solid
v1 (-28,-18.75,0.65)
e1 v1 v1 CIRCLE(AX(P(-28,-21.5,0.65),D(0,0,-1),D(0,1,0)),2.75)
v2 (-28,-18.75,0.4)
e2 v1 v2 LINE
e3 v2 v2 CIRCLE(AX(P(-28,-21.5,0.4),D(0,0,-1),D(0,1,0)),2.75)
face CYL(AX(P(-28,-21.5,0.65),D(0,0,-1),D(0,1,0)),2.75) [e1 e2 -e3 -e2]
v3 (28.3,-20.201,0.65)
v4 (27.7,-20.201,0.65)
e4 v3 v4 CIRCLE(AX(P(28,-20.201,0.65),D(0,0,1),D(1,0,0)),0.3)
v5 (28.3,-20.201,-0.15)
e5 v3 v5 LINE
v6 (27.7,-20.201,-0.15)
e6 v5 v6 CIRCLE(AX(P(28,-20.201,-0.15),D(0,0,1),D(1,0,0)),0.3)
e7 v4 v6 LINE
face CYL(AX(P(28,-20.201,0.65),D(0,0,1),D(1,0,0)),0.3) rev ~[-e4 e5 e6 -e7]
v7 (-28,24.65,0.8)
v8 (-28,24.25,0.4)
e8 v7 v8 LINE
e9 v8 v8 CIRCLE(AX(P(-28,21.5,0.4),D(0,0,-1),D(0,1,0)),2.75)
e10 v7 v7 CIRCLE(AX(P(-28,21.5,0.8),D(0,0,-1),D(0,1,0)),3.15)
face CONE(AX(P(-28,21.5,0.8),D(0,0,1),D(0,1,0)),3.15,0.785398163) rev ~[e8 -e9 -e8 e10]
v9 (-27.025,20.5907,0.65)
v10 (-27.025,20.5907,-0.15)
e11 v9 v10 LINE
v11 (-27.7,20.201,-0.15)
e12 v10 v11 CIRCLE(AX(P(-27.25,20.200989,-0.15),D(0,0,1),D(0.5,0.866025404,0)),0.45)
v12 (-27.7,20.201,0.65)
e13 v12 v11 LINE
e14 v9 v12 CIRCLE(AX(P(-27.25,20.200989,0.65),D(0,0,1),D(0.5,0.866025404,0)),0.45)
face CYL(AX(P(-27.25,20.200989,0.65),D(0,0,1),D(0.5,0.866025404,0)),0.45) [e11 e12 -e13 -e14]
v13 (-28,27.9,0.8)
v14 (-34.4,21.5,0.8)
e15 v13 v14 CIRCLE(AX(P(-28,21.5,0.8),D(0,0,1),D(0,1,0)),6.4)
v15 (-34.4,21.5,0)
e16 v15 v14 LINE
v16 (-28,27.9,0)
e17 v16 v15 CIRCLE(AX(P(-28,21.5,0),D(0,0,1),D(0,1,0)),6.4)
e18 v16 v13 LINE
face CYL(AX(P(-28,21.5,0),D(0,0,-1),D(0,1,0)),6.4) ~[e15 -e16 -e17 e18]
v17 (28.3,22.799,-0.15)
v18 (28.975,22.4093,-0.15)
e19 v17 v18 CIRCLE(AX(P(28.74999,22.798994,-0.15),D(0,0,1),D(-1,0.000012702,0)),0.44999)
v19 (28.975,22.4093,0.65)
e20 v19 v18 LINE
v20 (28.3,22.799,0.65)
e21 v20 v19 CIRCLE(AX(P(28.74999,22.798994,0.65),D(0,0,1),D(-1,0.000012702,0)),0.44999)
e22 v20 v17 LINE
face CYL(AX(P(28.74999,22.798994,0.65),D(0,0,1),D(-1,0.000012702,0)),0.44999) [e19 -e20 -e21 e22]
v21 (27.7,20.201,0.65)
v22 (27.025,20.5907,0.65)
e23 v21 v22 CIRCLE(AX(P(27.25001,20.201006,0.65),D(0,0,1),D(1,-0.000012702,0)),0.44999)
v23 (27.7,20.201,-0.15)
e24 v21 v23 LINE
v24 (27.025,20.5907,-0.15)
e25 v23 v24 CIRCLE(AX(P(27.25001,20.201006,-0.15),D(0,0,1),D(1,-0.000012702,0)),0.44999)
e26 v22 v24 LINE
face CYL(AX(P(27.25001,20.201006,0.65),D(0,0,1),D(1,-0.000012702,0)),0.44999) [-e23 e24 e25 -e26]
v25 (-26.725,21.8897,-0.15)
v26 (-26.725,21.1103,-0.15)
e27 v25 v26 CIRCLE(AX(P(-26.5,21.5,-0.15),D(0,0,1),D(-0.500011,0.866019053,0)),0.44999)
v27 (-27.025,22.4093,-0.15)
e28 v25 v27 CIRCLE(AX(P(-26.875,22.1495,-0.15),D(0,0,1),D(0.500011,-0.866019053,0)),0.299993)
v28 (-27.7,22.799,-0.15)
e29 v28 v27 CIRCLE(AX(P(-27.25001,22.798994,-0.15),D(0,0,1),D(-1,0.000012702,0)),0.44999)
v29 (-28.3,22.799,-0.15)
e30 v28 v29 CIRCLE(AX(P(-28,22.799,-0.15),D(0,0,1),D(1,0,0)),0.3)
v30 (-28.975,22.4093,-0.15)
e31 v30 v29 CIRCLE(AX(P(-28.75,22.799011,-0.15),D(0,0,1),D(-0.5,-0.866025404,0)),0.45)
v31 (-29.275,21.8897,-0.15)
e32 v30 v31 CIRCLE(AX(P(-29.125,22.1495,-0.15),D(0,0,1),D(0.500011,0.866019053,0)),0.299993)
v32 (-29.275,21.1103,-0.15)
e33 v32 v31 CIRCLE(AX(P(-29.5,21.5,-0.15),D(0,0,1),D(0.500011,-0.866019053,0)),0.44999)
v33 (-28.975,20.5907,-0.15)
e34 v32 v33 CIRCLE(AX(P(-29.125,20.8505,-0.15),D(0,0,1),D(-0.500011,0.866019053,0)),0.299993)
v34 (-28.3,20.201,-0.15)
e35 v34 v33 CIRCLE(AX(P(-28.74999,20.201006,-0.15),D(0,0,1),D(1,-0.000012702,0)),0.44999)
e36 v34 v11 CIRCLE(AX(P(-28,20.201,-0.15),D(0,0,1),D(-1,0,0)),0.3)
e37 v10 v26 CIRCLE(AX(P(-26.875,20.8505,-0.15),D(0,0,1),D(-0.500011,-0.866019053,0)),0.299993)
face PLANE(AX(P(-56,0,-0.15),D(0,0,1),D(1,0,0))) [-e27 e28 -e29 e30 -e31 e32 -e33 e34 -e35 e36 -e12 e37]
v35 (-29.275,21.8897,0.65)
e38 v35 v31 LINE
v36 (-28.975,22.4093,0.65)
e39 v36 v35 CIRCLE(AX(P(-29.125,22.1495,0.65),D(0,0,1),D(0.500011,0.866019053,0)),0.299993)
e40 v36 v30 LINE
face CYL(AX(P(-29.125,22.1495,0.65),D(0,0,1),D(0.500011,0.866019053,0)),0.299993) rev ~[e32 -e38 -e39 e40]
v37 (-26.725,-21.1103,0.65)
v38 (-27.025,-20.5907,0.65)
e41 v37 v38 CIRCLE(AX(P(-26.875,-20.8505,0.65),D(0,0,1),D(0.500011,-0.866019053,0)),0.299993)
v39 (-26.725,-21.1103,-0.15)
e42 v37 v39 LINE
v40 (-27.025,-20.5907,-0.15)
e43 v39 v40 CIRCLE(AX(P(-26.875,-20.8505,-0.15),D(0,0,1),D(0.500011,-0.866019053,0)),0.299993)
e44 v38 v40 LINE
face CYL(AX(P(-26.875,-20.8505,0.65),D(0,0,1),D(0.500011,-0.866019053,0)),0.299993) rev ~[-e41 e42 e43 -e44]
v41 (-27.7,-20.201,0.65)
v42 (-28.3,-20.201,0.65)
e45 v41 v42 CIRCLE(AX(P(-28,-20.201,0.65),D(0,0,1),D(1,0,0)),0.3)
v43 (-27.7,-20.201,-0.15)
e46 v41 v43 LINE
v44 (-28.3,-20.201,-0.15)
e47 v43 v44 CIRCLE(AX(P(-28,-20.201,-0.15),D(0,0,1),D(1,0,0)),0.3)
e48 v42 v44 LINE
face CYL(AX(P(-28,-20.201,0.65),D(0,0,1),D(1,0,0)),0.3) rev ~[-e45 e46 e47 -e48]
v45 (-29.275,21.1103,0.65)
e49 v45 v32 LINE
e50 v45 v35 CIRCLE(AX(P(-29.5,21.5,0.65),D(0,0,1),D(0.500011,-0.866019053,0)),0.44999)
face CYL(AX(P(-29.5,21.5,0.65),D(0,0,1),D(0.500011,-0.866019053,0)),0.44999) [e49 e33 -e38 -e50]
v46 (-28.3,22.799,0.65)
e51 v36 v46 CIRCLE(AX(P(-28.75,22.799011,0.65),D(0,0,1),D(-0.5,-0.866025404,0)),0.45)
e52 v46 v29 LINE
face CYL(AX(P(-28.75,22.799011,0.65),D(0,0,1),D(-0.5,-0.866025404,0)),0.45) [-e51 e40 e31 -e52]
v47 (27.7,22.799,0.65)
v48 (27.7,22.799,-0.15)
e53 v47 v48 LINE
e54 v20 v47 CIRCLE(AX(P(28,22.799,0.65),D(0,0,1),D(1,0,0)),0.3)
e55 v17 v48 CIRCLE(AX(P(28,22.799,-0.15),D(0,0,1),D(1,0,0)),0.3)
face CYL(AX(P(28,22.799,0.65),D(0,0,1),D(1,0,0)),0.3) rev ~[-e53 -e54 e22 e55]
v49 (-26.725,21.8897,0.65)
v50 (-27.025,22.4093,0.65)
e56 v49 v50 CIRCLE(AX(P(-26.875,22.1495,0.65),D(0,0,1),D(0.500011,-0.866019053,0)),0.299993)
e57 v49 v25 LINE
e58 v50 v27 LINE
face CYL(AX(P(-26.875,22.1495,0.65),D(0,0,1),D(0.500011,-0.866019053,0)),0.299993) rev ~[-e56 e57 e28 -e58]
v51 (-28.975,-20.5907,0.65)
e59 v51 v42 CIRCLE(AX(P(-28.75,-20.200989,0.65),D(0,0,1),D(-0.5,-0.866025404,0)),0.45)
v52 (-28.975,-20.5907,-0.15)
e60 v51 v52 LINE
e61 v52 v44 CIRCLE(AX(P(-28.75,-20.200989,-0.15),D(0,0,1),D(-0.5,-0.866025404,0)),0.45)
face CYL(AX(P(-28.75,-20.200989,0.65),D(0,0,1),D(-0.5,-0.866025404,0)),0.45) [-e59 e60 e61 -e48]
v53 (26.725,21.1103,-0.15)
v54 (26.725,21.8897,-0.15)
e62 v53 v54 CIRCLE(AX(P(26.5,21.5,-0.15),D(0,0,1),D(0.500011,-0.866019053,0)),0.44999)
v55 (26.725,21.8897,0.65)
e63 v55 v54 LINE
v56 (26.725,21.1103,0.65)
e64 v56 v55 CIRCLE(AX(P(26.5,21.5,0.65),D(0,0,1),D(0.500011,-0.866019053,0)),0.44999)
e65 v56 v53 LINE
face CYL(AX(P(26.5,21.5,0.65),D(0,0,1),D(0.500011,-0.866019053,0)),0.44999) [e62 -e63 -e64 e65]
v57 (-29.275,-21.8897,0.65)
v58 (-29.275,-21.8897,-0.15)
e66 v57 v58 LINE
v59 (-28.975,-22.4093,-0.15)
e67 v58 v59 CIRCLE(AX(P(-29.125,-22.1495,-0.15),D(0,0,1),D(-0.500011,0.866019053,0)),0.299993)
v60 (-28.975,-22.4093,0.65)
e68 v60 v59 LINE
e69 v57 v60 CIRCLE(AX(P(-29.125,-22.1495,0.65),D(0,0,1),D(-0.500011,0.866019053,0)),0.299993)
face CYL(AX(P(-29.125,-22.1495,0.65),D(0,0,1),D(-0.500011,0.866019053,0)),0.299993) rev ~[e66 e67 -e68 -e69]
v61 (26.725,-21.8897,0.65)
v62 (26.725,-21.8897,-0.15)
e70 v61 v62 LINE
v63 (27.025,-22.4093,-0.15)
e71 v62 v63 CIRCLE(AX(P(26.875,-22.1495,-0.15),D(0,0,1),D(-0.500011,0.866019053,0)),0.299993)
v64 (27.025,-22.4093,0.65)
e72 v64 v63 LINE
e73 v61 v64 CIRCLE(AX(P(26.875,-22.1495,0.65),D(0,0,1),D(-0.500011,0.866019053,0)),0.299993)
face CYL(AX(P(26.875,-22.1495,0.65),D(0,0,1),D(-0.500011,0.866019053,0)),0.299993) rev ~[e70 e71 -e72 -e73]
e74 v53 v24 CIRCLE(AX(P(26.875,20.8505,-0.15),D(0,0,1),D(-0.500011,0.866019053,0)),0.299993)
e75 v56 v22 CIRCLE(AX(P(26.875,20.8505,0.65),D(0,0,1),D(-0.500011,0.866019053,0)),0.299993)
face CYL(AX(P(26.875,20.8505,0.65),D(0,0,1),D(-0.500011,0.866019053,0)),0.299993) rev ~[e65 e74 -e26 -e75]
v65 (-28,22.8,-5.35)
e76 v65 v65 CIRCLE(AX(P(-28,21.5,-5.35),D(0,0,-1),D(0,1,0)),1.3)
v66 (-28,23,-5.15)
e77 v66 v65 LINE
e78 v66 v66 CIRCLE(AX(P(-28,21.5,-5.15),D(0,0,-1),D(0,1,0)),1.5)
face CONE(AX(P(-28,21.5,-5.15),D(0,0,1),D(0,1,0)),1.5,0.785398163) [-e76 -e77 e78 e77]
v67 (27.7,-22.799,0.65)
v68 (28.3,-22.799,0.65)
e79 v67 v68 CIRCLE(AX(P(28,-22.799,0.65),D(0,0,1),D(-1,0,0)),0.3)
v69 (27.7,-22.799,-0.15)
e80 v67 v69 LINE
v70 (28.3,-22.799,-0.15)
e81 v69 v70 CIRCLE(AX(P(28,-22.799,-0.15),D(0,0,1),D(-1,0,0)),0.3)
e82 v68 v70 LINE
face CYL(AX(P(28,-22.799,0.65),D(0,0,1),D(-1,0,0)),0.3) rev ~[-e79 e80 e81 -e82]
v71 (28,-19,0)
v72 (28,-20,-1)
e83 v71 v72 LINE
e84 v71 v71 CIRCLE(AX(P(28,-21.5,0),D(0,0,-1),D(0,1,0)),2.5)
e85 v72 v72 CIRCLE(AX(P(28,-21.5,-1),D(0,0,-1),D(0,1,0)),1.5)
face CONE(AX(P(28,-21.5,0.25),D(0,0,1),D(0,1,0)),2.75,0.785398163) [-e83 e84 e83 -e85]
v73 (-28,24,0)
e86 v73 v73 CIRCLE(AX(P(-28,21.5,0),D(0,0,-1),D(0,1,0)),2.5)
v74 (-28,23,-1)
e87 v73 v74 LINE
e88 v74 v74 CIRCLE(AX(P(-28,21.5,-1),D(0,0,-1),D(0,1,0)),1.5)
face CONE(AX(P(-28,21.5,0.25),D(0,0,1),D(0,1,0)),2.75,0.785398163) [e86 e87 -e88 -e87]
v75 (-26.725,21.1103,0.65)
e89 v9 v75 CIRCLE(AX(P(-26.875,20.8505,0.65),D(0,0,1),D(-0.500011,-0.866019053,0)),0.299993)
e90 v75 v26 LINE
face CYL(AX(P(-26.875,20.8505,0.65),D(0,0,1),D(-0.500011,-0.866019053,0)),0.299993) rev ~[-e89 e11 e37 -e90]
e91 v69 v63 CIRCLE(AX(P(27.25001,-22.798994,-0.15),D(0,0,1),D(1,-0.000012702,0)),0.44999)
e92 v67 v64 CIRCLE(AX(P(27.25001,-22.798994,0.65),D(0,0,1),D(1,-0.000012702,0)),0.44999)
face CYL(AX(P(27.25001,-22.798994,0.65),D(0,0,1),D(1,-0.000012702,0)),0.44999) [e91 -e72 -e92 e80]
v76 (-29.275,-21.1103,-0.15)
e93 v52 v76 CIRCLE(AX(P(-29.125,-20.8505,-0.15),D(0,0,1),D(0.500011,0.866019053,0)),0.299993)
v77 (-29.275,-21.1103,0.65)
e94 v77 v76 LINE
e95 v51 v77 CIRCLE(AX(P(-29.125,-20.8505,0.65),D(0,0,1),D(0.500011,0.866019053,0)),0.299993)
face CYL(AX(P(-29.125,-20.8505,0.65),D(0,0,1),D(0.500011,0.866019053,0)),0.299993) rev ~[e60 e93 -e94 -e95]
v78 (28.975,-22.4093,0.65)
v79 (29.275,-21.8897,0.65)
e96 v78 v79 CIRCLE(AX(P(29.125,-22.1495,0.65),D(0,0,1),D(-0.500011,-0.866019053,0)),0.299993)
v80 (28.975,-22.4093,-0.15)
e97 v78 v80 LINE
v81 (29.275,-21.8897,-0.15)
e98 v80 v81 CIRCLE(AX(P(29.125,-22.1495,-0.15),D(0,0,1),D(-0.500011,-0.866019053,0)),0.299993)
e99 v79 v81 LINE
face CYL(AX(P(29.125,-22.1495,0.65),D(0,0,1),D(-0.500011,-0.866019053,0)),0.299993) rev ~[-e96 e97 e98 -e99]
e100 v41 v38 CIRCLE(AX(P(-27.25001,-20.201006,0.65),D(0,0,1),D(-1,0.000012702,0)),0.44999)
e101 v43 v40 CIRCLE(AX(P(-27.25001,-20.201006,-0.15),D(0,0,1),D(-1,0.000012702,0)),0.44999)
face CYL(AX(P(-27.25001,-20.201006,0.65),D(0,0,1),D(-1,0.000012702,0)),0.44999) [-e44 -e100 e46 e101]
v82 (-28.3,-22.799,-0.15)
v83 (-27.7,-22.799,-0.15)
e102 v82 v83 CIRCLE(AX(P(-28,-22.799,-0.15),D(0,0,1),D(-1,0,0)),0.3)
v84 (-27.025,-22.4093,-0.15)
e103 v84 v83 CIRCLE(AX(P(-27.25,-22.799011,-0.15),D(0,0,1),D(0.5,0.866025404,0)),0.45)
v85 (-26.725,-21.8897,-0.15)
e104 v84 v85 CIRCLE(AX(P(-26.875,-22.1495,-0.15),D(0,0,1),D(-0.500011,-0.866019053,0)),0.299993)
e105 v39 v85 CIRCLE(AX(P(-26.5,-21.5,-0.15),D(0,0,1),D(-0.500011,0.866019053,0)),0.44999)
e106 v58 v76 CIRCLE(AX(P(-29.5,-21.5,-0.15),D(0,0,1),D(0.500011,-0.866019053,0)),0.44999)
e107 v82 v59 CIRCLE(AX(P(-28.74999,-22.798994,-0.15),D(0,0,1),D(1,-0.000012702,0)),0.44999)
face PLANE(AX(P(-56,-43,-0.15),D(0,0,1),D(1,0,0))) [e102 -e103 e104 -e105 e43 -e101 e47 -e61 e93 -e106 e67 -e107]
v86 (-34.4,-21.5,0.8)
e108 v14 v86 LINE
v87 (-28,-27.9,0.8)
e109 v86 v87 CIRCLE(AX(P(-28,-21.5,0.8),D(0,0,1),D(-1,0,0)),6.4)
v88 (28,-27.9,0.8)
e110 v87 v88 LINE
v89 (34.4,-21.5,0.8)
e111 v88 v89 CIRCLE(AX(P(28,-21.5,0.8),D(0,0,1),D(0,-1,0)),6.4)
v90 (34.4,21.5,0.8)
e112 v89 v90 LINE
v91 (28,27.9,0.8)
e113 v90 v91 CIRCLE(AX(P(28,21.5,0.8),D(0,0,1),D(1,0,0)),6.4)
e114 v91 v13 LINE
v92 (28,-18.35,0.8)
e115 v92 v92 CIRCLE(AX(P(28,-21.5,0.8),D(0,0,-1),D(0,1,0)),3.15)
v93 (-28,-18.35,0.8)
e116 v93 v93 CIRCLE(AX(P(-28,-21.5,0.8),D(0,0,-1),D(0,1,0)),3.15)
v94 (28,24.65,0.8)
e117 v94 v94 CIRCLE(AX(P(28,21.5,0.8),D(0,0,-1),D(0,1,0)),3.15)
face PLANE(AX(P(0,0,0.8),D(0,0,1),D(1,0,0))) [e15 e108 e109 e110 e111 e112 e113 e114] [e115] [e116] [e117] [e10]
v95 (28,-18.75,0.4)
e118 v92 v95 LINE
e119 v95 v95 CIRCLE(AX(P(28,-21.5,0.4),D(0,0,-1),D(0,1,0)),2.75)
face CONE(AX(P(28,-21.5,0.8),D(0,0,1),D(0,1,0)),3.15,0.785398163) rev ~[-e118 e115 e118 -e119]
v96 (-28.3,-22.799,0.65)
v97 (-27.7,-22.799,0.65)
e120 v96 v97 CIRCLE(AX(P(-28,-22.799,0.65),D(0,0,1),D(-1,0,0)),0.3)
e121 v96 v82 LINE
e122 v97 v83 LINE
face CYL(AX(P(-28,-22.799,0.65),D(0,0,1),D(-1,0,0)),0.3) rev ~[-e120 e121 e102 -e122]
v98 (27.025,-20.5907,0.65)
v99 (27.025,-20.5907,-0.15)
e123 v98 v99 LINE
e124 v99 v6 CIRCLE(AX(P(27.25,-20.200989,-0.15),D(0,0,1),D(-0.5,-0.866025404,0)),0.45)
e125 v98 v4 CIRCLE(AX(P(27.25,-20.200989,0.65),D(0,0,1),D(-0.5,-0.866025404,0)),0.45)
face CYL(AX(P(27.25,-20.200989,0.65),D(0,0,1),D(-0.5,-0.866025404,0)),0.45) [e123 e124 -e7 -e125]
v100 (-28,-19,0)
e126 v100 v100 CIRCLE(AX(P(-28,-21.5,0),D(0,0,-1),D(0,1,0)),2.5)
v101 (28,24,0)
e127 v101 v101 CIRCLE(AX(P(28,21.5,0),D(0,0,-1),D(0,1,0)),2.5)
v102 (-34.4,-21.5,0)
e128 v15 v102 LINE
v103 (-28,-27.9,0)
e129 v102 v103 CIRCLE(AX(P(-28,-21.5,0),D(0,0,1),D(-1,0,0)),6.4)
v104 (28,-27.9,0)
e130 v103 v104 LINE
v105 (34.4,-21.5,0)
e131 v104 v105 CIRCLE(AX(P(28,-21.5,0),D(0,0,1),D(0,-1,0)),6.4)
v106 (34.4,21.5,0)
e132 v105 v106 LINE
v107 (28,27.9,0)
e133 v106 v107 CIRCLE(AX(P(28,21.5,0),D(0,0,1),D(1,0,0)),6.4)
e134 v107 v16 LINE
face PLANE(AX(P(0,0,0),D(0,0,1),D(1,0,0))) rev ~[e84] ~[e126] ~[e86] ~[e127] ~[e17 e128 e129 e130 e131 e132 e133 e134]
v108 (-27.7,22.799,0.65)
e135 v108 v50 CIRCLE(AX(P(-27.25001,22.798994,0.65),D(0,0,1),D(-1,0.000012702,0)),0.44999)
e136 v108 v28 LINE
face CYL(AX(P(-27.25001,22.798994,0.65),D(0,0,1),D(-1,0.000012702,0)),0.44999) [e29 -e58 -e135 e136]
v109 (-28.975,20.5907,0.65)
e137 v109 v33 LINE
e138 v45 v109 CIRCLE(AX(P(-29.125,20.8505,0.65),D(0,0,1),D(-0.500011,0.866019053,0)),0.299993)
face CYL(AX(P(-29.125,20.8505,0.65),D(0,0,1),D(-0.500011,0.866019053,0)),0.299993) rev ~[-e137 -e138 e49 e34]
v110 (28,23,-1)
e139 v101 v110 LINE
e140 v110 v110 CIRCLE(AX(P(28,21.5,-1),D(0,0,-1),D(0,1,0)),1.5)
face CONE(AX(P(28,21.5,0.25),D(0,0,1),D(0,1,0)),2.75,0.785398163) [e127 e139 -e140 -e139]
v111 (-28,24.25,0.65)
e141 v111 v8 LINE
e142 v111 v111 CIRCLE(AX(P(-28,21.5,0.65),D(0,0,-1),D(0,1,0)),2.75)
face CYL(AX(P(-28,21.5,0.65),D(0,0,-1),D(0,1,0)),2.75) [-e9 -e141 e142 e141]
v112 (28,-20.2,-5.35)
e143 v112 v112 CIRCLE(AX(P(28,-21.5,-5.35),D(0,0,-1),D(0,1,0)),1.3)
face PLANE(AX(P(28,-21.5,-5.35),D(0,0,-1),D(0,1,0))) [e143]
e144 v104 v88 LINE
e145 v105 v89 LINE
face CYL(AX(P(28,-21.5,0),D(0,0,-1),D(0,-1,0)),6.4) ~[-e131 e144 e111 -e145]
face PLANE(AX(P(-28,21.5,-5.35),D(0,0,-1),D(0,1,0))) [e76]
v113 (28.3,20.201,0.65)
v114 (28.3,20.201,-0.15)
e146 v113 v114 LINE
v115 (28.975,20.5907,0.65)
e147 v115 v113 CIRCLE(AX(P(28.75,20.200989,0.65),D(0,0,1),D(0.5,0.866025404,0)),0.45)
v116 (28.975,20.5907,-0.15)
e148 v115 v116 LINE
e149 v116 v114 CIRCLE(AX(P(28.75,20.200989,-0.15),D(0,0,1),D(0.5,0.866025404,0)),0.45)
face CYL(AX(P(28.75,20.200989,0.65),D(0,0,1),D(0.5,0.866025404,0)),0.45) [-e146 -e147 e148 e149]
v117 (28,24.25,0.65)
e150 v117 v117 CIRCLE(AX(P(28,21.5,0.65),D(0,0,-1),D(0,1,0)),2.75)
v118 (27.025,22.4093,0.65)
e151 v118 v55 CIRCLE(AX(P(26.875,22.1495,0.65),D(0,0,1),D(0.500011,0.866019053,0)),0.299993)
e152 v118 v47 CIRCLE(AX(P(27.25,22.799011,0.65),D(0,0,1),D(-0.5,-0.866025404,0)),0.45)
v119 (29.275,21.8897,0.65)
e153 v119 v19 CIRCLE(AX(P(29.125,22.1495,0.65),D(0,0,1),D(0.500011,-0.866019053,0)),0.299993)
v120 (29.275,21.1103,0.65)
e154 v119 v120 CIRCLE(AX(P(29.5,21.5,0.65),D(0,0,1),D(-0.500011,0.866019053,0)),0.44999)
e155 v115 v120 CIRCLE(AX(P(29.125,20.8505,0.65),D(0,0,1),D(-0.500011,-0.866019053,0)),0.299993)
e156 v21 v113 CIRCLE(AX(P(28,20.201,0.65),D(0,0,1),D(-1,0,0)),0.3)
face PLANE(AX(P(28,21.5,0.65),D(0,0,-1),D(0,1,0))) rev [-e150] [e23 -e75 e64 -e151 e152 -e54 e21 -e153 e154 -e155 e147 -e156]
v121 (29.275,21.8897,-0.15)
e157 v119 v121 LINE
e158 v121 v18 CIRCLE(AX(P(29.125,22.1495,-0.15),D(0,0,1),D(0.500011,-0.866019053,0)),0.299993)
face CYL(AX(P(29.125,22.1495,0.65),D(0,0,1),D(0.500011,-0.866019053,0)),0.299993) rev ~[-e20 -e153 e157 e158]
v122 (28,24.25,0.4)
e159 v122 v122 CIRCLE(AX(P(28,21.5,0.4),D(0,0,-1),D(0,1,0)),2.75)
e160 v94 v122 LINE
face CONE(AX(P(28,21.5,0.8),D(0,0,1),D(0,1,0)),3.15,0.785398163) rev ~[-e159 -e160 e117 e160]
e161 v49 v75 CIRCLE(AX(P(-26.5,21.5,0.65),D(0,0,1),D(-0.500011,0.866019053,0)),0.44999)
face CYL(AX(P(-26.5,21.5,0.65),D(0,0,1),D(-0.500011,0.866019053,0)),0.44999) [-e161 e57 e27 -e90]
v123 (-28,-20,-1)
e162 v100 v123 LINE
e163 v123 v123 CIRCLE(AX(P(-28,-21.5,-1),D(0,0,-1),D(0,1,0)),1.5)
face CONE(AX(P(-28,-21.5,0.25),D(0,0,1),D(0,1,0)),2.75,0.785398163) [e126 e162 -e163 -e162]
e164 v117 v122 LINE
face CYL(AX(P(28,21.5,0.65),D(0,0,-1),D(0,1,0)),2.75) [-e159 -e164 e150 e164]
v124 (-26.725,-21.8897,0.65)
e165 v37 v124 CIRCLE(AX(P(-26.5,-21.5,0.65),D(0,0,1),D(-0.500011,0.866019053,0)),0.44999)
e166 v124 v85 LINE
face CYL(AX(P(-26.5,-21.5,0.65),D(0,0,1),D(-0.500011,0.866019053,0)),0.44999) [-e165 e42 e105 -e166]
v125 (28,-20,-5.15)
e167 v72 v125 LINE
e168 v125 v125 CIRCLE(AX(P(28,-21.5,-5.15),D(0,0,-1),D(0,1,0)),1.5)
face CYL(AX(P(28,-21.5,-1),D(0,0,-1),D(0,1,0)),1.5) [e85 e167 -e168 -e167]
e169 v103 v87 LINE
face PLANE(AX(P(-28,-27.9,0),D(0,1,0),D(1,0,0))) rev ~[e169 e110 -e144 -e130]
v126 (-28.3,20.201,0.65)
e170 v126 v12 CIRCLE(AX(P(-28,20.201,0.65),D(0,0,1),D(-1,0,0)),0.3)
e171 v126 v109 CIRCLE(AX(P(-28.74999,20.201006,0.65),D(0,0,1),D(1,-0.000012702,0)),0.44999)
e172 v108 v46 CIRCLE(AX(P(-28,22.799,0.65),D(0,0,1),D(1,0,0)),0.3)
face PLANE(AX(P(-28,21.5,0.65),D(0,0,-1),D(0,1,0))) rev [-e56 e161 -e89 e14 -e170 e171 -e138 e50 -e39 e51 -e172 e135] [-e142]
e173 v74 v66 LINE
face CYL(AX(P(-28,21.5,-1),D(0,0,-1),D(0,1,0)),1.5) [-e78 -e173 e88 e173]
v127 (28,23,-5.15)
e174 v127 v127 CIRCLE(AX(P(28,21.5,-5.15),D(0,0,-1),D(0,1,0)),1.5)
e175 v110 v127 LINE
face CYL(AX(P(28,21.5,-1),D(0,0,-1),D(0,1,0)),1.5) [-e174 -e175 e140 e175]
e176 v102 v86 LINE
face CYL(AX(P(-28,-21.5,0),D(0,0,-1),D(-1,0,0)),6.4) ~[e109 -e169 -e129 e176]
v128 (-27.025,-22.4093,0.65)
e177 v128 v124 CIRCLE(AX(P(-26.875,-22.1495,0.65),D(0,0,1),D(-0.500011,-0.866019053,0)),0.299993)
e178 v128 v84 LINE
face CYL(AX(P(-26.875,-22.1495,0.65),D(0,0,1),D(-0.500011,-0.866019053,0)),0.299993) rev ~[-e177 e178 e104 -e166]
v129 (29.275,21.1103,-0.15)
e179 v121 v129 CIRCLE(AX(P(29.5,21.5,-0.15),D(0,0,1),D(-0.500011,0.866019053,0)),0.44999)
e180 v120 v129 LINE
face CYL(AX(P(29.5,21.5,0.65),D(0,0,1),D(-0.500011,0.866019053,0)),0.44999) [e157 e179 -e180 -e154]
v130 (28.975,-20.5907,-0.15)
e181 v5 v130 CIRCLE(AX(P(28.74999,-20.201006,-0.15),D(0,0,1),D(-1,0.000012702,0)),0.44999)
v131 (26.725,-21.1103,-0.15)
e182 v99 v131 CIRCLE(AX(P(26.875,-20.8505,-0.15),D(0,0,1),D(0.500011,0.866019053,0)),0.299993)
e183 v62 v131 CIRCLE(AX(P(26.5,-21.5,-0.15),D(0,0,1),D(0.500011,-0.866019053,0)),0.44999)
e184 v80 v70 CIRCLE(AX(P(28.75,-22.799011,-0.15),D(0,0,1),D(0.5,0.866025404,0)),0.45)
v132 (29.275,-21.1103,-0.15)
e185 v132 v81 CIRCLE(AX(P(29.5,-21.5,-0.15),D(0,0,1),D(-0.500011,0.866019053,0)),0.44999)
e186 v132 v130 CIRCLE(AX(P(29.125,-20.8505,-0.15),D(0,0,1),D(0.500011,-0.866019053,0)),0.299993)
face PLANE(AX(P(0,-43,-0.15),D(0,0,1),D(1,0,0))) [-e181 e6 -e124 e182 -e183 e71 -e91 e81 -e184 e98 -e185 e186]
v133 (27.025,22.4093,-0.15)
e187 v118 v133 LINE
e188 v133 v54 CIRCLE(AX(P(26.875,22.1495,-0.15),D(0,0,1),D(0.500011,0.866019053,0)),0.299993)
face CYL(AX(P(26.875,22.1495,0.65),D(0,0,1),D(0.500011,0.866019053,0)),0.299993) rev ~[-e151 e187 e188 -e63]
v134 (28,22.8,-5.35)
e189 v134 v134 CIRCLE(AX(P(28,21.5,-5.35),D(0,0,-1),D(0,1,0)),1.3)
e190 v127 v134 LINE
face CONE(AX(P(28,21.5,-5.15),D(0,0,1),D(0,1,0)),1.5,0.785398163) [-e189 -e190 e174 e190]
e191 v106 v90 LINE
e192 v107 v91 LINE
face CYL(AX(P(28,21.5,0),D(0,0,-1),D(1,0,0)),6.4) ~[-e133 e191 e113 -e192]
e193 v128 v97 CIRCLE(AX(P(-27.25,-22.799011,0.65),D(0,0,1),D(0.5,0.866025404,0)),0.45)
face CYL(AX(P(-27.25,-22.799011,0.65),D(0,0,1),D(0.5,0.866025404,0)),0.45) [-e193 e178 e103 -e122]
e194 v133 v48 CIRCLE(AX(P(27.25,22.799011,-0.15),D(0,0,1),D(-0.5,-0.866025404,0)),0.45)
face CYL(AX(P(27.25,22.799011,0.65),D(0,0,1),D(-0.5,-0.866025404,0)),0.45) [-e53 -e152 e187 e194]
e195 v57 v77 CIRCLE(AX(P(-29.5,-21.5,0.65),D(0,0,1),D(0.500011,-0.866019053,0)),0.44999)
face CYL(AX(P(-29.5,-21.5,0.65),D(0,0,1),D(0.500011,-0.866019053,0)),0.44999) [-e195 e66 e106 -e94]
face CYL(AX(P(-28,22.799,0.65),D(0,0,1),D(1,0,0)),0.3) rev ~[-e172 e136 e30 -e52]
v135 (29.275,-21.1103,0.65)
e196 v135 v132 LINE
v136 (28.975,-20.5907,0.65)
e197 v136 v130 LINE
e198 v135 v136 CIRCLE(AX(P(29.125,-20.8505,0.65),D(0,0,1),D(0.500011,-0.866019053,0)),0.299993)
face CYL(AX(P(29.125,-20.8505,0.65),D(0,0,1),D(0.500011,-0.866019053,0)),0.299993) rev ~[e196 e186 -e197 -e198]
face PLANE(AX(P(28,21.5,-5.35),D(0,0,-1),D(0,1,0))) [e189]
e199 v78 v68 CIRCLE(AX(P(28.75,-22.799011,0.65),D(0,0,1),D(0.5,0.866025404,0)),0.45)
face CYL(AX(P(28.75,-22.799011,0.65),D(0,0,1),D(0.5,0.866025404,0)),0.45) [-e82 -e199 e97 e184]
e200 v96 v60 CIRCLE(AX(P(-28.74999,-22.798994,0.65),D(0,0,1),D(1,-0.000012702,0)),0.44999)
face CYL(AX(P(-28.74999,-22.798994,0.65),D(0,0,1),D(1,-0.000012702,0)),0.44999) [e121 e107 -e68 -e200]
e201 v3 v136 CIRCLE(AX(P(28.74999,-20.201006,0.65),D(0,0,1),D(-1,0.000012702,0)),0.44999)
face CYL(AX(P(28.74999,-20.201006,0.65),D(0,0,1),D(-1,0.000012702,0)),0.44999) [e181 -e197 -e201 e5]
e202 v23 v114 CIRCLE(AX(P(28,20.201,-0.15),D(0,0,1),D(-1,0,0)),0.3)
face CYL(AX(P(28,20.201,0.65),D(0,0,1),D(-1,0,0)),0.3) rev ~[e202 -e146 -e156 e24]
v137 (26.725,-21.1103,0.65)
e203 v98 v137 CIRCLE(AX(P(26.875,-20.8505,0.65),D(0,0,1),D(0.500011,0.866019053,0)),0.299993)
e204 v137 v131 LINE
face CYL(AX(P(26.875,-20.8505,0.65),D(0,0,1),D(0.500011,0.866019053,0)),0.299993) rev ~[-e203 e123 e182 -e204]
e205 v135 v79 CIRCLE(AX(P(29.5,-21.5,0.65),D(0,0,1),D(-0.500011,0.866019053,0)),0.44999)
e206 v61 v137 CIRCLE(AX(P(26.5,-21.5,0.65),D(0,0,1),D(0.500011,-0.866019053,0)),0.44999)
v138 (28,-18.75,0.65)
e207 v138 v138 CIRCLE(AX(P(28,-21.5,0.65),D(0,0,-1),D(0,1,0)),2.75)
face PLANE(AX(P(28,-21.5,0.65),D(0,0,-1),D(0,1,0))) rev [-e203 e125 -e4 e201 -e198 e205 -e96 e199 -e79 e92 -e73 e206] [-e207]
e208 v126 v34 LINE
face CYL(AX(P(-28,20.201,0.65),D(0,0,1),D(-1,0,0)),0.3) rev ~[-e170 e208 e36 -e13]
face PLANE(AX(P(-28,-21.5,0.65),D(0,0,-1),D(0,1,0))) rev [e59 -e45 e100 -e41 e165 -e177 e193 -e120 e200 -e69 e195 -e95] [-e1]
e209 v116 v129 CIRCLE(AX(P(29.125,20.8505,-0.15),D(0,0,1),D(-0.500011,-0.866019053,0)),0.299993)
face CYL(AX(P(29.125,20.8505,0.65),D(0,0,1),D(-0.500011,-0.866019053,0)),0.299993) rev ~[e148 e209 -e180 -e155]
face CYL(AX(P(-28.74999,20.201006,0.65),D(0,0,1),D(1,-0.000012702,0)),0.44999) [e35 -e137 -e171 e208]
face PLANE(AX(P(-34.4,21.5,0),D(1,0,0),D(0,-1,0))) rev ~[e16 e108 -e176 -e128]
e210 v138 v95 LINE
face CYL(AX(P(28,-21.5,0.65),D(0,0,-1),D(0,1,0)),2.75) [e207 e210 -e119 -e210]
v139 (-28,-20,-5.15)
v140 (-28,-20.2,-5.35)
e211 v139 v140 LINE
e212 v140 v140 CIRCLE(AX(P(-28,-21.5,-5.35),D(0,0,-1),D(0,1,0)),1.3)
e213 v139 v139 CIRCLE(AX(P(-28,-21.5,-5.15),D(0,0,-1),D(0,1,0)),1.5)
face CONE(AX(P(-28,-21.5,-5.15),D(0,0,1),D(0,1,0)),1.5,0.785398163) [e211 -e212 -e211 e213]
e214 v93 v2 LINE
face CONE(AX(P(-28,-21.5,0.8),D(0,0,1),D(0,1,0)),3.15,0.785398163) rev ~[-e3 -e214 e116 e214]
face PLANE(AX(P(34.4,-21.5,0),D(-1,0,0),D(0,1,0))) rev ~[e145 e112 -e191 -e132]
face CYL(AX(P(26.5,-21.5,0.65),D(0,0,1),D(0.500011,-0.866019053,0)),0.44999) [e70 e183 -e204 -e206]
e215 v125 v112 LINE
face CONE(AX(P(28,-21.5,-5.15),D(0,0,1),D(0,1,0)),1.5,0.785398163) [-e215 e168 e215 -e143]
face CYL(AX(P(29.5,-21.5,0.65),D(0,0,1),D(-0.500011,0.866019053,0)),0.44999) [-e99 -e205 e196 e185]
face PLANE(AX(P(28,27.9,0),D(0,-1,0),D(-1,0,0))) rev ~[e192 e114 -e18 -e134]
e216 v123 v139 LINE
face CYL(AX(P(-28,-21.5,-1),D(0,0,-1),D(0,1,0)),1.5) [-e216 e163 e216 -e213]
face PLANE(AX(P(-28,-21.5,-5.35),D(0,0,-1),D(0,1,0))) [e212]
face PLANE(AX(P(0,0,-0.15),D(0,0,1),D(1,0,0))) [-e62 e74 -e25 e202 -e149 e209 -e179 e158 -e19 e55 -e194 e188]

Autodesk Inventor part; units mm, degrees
sketch "Sketch_1" plane through (0, 0, 0) normal (0, 0, 1) x (1, 0, 0)
  line L0 (-34.4, 21.5) -> (-34.4, -21.5)
  arc A0 (-34.4, -21.5) -> (-28, -27.9) centre (-28, -21.5) ccw
  line L1 (-28, -27.9) -> (28, -27.9)
  arc A1 (28, -27.9) -> (34.4, -21.5) centre (28, -21.5) ccw
  line L2 (34.4, -21.5) -> (34.4, 21.5)
  arc A2 (34.4, 21.5) -> (28, 27.9) centre (28, 21.5) ccw
  line L3 (28, 27.9) -> (-28, 27.9)
  arc A3 (-28, 27.9) -> (-34.4, 21.5) centre (-28, 21.5) ccw
extrude "Extrusion1" add sketch "Sketch_1" along normal blind 0.8
sketch "Sketch_2" plane through (28, 0, 0) normal (1, 0, 0) x (0, 0, -1)
  line L0 (0, 21.5) -> (-0.8, 21.5)
  line L1 (-0.8, 21.5) -> (-0.8, 24.65)
  line L2 (-0.8, 24.65) -> (0, 23.85)
  line L3 (0, 23.85) -> (0, 21.5)
  line L4 (0, 21.5) -> (-0.8, 21.5)
revolve "Revolution1" cut sketch "Sketch_2" angle 360 about axis through (28, 21.5, 0) along (0, 0, -1)
pattern_linear "Rectangular Pattern1" count 2 spacing 56 along (-1, 0, 0) count 2 spacing 43 along (0, -1, 0) of "Revolution1"
sketch "Sketch_4" plane through (28, 0, 0) normal (1, 0, 0) x (0, 0, -1)
  line L0 (5.35, 21.5) -> (-0.65, 21.5)
  line L1 (-0.65, 21.5) -> (-0.65, 24.25)
  line L2 (-0.65, 24.25) -> (-0.25, 24.25)
  line L3 (-0.25, 24.25) -> (1, 23)
  line L4 (1, 23) -> (5.15, 23)
  line L5 (5.15, 23) -> (5.35, 22.8)
  line L6 (5.35, 22.8) -> (5.35, 21.5)
  line L7 (5.35, 21.5) -> (-0.65, 21.5)
revolve "Revolution2" add sketch "Sketch_4" angle 360 about axis through (28, 21.5, -5.35) along (0, 0, -1)
thread "Thread1" size "M3x0.5" class "6g" standard "ISO Metric profile" full length
pattern_linear "Rectangular Pattern2" count 2 spacing 56 along (-1, 0, 0) count 2 spacing 43 along (0, -1, 0) of "Revolution2"
sketch "Sketch_6" plane through (0, 0, 0.65) normal (0, 0, 1) x (1, 0, 0)
  arc A0 (27.025, 22.4093) -> (26.725, 21.8897) centre (26.875, 22.1495) ccw
  arc A1 (26.725, 21.1103) -> (26.725, 21.8897) centre (26.5, 21.5) ccw
  arc A2 (26.725, 21.1103) -> (27.025, 20.5907) centre (26.875, 20.8505) ccw
  arc A3 (27.7, 20.201) -> (27.025, 20.5907) centre (27.25, 20.201) ccw
  arc A4 (27.7, 20.201) -> (28.3, 20.201) centre (28, 20.201) ccw
  arc A5 (28.975, 20.5907) -> (28.3, 20.201) centre (28.75, 20.201) ccw
  arc A6 (28.975, 20.5907) -> (29.275, 21.1103) centre (29.125, 20.8505) ccw
  arc A7 (29.275, 21.8897) -> (29.275, 21.1103) centre (29.5, 21.5) ccw
  arc A8 (29.275, 21.8897) -> (28.975, 22.4093) centre (29.125, 22.1495) ccw
  arc A9 (28.3, 22.799) -> (28.975, 22.4093) centre (28.75, 22.799) ccw
  arc A10 (28.3, 22.799) -> (27.7, 22.799) centre (28, 22.799) ccw
  arc A11 (27.025, 22.4093) -> (27.7, 22.799) centre (27.25, 22.799) ccw
extrude "Extrusion2" cut sketch "Sketch_6" against normal blind 0.8
pattern_linear "Rectangular Pattern3" count 2 spacing 56 along (-1, 0, 0) count 2 spacing 43 along (0, -1, 0) of "Extrusion2"
ref_plane "einbau_XY" through (0, 0, 0) normal (0, 0, 1) x (1, 0, 0)
ref_plane "einbau_YZ" through (0, 0, 0) normal (1, 0, 0) x (0, 1, 0)
ref_plane "einbau_ZX" through (0, 0, 0) normal (0, 1, 0) x (0, 0, 1)
properties part number "SCHUNK-5524251 Abdeckblech-PGN-plus-P 160"
